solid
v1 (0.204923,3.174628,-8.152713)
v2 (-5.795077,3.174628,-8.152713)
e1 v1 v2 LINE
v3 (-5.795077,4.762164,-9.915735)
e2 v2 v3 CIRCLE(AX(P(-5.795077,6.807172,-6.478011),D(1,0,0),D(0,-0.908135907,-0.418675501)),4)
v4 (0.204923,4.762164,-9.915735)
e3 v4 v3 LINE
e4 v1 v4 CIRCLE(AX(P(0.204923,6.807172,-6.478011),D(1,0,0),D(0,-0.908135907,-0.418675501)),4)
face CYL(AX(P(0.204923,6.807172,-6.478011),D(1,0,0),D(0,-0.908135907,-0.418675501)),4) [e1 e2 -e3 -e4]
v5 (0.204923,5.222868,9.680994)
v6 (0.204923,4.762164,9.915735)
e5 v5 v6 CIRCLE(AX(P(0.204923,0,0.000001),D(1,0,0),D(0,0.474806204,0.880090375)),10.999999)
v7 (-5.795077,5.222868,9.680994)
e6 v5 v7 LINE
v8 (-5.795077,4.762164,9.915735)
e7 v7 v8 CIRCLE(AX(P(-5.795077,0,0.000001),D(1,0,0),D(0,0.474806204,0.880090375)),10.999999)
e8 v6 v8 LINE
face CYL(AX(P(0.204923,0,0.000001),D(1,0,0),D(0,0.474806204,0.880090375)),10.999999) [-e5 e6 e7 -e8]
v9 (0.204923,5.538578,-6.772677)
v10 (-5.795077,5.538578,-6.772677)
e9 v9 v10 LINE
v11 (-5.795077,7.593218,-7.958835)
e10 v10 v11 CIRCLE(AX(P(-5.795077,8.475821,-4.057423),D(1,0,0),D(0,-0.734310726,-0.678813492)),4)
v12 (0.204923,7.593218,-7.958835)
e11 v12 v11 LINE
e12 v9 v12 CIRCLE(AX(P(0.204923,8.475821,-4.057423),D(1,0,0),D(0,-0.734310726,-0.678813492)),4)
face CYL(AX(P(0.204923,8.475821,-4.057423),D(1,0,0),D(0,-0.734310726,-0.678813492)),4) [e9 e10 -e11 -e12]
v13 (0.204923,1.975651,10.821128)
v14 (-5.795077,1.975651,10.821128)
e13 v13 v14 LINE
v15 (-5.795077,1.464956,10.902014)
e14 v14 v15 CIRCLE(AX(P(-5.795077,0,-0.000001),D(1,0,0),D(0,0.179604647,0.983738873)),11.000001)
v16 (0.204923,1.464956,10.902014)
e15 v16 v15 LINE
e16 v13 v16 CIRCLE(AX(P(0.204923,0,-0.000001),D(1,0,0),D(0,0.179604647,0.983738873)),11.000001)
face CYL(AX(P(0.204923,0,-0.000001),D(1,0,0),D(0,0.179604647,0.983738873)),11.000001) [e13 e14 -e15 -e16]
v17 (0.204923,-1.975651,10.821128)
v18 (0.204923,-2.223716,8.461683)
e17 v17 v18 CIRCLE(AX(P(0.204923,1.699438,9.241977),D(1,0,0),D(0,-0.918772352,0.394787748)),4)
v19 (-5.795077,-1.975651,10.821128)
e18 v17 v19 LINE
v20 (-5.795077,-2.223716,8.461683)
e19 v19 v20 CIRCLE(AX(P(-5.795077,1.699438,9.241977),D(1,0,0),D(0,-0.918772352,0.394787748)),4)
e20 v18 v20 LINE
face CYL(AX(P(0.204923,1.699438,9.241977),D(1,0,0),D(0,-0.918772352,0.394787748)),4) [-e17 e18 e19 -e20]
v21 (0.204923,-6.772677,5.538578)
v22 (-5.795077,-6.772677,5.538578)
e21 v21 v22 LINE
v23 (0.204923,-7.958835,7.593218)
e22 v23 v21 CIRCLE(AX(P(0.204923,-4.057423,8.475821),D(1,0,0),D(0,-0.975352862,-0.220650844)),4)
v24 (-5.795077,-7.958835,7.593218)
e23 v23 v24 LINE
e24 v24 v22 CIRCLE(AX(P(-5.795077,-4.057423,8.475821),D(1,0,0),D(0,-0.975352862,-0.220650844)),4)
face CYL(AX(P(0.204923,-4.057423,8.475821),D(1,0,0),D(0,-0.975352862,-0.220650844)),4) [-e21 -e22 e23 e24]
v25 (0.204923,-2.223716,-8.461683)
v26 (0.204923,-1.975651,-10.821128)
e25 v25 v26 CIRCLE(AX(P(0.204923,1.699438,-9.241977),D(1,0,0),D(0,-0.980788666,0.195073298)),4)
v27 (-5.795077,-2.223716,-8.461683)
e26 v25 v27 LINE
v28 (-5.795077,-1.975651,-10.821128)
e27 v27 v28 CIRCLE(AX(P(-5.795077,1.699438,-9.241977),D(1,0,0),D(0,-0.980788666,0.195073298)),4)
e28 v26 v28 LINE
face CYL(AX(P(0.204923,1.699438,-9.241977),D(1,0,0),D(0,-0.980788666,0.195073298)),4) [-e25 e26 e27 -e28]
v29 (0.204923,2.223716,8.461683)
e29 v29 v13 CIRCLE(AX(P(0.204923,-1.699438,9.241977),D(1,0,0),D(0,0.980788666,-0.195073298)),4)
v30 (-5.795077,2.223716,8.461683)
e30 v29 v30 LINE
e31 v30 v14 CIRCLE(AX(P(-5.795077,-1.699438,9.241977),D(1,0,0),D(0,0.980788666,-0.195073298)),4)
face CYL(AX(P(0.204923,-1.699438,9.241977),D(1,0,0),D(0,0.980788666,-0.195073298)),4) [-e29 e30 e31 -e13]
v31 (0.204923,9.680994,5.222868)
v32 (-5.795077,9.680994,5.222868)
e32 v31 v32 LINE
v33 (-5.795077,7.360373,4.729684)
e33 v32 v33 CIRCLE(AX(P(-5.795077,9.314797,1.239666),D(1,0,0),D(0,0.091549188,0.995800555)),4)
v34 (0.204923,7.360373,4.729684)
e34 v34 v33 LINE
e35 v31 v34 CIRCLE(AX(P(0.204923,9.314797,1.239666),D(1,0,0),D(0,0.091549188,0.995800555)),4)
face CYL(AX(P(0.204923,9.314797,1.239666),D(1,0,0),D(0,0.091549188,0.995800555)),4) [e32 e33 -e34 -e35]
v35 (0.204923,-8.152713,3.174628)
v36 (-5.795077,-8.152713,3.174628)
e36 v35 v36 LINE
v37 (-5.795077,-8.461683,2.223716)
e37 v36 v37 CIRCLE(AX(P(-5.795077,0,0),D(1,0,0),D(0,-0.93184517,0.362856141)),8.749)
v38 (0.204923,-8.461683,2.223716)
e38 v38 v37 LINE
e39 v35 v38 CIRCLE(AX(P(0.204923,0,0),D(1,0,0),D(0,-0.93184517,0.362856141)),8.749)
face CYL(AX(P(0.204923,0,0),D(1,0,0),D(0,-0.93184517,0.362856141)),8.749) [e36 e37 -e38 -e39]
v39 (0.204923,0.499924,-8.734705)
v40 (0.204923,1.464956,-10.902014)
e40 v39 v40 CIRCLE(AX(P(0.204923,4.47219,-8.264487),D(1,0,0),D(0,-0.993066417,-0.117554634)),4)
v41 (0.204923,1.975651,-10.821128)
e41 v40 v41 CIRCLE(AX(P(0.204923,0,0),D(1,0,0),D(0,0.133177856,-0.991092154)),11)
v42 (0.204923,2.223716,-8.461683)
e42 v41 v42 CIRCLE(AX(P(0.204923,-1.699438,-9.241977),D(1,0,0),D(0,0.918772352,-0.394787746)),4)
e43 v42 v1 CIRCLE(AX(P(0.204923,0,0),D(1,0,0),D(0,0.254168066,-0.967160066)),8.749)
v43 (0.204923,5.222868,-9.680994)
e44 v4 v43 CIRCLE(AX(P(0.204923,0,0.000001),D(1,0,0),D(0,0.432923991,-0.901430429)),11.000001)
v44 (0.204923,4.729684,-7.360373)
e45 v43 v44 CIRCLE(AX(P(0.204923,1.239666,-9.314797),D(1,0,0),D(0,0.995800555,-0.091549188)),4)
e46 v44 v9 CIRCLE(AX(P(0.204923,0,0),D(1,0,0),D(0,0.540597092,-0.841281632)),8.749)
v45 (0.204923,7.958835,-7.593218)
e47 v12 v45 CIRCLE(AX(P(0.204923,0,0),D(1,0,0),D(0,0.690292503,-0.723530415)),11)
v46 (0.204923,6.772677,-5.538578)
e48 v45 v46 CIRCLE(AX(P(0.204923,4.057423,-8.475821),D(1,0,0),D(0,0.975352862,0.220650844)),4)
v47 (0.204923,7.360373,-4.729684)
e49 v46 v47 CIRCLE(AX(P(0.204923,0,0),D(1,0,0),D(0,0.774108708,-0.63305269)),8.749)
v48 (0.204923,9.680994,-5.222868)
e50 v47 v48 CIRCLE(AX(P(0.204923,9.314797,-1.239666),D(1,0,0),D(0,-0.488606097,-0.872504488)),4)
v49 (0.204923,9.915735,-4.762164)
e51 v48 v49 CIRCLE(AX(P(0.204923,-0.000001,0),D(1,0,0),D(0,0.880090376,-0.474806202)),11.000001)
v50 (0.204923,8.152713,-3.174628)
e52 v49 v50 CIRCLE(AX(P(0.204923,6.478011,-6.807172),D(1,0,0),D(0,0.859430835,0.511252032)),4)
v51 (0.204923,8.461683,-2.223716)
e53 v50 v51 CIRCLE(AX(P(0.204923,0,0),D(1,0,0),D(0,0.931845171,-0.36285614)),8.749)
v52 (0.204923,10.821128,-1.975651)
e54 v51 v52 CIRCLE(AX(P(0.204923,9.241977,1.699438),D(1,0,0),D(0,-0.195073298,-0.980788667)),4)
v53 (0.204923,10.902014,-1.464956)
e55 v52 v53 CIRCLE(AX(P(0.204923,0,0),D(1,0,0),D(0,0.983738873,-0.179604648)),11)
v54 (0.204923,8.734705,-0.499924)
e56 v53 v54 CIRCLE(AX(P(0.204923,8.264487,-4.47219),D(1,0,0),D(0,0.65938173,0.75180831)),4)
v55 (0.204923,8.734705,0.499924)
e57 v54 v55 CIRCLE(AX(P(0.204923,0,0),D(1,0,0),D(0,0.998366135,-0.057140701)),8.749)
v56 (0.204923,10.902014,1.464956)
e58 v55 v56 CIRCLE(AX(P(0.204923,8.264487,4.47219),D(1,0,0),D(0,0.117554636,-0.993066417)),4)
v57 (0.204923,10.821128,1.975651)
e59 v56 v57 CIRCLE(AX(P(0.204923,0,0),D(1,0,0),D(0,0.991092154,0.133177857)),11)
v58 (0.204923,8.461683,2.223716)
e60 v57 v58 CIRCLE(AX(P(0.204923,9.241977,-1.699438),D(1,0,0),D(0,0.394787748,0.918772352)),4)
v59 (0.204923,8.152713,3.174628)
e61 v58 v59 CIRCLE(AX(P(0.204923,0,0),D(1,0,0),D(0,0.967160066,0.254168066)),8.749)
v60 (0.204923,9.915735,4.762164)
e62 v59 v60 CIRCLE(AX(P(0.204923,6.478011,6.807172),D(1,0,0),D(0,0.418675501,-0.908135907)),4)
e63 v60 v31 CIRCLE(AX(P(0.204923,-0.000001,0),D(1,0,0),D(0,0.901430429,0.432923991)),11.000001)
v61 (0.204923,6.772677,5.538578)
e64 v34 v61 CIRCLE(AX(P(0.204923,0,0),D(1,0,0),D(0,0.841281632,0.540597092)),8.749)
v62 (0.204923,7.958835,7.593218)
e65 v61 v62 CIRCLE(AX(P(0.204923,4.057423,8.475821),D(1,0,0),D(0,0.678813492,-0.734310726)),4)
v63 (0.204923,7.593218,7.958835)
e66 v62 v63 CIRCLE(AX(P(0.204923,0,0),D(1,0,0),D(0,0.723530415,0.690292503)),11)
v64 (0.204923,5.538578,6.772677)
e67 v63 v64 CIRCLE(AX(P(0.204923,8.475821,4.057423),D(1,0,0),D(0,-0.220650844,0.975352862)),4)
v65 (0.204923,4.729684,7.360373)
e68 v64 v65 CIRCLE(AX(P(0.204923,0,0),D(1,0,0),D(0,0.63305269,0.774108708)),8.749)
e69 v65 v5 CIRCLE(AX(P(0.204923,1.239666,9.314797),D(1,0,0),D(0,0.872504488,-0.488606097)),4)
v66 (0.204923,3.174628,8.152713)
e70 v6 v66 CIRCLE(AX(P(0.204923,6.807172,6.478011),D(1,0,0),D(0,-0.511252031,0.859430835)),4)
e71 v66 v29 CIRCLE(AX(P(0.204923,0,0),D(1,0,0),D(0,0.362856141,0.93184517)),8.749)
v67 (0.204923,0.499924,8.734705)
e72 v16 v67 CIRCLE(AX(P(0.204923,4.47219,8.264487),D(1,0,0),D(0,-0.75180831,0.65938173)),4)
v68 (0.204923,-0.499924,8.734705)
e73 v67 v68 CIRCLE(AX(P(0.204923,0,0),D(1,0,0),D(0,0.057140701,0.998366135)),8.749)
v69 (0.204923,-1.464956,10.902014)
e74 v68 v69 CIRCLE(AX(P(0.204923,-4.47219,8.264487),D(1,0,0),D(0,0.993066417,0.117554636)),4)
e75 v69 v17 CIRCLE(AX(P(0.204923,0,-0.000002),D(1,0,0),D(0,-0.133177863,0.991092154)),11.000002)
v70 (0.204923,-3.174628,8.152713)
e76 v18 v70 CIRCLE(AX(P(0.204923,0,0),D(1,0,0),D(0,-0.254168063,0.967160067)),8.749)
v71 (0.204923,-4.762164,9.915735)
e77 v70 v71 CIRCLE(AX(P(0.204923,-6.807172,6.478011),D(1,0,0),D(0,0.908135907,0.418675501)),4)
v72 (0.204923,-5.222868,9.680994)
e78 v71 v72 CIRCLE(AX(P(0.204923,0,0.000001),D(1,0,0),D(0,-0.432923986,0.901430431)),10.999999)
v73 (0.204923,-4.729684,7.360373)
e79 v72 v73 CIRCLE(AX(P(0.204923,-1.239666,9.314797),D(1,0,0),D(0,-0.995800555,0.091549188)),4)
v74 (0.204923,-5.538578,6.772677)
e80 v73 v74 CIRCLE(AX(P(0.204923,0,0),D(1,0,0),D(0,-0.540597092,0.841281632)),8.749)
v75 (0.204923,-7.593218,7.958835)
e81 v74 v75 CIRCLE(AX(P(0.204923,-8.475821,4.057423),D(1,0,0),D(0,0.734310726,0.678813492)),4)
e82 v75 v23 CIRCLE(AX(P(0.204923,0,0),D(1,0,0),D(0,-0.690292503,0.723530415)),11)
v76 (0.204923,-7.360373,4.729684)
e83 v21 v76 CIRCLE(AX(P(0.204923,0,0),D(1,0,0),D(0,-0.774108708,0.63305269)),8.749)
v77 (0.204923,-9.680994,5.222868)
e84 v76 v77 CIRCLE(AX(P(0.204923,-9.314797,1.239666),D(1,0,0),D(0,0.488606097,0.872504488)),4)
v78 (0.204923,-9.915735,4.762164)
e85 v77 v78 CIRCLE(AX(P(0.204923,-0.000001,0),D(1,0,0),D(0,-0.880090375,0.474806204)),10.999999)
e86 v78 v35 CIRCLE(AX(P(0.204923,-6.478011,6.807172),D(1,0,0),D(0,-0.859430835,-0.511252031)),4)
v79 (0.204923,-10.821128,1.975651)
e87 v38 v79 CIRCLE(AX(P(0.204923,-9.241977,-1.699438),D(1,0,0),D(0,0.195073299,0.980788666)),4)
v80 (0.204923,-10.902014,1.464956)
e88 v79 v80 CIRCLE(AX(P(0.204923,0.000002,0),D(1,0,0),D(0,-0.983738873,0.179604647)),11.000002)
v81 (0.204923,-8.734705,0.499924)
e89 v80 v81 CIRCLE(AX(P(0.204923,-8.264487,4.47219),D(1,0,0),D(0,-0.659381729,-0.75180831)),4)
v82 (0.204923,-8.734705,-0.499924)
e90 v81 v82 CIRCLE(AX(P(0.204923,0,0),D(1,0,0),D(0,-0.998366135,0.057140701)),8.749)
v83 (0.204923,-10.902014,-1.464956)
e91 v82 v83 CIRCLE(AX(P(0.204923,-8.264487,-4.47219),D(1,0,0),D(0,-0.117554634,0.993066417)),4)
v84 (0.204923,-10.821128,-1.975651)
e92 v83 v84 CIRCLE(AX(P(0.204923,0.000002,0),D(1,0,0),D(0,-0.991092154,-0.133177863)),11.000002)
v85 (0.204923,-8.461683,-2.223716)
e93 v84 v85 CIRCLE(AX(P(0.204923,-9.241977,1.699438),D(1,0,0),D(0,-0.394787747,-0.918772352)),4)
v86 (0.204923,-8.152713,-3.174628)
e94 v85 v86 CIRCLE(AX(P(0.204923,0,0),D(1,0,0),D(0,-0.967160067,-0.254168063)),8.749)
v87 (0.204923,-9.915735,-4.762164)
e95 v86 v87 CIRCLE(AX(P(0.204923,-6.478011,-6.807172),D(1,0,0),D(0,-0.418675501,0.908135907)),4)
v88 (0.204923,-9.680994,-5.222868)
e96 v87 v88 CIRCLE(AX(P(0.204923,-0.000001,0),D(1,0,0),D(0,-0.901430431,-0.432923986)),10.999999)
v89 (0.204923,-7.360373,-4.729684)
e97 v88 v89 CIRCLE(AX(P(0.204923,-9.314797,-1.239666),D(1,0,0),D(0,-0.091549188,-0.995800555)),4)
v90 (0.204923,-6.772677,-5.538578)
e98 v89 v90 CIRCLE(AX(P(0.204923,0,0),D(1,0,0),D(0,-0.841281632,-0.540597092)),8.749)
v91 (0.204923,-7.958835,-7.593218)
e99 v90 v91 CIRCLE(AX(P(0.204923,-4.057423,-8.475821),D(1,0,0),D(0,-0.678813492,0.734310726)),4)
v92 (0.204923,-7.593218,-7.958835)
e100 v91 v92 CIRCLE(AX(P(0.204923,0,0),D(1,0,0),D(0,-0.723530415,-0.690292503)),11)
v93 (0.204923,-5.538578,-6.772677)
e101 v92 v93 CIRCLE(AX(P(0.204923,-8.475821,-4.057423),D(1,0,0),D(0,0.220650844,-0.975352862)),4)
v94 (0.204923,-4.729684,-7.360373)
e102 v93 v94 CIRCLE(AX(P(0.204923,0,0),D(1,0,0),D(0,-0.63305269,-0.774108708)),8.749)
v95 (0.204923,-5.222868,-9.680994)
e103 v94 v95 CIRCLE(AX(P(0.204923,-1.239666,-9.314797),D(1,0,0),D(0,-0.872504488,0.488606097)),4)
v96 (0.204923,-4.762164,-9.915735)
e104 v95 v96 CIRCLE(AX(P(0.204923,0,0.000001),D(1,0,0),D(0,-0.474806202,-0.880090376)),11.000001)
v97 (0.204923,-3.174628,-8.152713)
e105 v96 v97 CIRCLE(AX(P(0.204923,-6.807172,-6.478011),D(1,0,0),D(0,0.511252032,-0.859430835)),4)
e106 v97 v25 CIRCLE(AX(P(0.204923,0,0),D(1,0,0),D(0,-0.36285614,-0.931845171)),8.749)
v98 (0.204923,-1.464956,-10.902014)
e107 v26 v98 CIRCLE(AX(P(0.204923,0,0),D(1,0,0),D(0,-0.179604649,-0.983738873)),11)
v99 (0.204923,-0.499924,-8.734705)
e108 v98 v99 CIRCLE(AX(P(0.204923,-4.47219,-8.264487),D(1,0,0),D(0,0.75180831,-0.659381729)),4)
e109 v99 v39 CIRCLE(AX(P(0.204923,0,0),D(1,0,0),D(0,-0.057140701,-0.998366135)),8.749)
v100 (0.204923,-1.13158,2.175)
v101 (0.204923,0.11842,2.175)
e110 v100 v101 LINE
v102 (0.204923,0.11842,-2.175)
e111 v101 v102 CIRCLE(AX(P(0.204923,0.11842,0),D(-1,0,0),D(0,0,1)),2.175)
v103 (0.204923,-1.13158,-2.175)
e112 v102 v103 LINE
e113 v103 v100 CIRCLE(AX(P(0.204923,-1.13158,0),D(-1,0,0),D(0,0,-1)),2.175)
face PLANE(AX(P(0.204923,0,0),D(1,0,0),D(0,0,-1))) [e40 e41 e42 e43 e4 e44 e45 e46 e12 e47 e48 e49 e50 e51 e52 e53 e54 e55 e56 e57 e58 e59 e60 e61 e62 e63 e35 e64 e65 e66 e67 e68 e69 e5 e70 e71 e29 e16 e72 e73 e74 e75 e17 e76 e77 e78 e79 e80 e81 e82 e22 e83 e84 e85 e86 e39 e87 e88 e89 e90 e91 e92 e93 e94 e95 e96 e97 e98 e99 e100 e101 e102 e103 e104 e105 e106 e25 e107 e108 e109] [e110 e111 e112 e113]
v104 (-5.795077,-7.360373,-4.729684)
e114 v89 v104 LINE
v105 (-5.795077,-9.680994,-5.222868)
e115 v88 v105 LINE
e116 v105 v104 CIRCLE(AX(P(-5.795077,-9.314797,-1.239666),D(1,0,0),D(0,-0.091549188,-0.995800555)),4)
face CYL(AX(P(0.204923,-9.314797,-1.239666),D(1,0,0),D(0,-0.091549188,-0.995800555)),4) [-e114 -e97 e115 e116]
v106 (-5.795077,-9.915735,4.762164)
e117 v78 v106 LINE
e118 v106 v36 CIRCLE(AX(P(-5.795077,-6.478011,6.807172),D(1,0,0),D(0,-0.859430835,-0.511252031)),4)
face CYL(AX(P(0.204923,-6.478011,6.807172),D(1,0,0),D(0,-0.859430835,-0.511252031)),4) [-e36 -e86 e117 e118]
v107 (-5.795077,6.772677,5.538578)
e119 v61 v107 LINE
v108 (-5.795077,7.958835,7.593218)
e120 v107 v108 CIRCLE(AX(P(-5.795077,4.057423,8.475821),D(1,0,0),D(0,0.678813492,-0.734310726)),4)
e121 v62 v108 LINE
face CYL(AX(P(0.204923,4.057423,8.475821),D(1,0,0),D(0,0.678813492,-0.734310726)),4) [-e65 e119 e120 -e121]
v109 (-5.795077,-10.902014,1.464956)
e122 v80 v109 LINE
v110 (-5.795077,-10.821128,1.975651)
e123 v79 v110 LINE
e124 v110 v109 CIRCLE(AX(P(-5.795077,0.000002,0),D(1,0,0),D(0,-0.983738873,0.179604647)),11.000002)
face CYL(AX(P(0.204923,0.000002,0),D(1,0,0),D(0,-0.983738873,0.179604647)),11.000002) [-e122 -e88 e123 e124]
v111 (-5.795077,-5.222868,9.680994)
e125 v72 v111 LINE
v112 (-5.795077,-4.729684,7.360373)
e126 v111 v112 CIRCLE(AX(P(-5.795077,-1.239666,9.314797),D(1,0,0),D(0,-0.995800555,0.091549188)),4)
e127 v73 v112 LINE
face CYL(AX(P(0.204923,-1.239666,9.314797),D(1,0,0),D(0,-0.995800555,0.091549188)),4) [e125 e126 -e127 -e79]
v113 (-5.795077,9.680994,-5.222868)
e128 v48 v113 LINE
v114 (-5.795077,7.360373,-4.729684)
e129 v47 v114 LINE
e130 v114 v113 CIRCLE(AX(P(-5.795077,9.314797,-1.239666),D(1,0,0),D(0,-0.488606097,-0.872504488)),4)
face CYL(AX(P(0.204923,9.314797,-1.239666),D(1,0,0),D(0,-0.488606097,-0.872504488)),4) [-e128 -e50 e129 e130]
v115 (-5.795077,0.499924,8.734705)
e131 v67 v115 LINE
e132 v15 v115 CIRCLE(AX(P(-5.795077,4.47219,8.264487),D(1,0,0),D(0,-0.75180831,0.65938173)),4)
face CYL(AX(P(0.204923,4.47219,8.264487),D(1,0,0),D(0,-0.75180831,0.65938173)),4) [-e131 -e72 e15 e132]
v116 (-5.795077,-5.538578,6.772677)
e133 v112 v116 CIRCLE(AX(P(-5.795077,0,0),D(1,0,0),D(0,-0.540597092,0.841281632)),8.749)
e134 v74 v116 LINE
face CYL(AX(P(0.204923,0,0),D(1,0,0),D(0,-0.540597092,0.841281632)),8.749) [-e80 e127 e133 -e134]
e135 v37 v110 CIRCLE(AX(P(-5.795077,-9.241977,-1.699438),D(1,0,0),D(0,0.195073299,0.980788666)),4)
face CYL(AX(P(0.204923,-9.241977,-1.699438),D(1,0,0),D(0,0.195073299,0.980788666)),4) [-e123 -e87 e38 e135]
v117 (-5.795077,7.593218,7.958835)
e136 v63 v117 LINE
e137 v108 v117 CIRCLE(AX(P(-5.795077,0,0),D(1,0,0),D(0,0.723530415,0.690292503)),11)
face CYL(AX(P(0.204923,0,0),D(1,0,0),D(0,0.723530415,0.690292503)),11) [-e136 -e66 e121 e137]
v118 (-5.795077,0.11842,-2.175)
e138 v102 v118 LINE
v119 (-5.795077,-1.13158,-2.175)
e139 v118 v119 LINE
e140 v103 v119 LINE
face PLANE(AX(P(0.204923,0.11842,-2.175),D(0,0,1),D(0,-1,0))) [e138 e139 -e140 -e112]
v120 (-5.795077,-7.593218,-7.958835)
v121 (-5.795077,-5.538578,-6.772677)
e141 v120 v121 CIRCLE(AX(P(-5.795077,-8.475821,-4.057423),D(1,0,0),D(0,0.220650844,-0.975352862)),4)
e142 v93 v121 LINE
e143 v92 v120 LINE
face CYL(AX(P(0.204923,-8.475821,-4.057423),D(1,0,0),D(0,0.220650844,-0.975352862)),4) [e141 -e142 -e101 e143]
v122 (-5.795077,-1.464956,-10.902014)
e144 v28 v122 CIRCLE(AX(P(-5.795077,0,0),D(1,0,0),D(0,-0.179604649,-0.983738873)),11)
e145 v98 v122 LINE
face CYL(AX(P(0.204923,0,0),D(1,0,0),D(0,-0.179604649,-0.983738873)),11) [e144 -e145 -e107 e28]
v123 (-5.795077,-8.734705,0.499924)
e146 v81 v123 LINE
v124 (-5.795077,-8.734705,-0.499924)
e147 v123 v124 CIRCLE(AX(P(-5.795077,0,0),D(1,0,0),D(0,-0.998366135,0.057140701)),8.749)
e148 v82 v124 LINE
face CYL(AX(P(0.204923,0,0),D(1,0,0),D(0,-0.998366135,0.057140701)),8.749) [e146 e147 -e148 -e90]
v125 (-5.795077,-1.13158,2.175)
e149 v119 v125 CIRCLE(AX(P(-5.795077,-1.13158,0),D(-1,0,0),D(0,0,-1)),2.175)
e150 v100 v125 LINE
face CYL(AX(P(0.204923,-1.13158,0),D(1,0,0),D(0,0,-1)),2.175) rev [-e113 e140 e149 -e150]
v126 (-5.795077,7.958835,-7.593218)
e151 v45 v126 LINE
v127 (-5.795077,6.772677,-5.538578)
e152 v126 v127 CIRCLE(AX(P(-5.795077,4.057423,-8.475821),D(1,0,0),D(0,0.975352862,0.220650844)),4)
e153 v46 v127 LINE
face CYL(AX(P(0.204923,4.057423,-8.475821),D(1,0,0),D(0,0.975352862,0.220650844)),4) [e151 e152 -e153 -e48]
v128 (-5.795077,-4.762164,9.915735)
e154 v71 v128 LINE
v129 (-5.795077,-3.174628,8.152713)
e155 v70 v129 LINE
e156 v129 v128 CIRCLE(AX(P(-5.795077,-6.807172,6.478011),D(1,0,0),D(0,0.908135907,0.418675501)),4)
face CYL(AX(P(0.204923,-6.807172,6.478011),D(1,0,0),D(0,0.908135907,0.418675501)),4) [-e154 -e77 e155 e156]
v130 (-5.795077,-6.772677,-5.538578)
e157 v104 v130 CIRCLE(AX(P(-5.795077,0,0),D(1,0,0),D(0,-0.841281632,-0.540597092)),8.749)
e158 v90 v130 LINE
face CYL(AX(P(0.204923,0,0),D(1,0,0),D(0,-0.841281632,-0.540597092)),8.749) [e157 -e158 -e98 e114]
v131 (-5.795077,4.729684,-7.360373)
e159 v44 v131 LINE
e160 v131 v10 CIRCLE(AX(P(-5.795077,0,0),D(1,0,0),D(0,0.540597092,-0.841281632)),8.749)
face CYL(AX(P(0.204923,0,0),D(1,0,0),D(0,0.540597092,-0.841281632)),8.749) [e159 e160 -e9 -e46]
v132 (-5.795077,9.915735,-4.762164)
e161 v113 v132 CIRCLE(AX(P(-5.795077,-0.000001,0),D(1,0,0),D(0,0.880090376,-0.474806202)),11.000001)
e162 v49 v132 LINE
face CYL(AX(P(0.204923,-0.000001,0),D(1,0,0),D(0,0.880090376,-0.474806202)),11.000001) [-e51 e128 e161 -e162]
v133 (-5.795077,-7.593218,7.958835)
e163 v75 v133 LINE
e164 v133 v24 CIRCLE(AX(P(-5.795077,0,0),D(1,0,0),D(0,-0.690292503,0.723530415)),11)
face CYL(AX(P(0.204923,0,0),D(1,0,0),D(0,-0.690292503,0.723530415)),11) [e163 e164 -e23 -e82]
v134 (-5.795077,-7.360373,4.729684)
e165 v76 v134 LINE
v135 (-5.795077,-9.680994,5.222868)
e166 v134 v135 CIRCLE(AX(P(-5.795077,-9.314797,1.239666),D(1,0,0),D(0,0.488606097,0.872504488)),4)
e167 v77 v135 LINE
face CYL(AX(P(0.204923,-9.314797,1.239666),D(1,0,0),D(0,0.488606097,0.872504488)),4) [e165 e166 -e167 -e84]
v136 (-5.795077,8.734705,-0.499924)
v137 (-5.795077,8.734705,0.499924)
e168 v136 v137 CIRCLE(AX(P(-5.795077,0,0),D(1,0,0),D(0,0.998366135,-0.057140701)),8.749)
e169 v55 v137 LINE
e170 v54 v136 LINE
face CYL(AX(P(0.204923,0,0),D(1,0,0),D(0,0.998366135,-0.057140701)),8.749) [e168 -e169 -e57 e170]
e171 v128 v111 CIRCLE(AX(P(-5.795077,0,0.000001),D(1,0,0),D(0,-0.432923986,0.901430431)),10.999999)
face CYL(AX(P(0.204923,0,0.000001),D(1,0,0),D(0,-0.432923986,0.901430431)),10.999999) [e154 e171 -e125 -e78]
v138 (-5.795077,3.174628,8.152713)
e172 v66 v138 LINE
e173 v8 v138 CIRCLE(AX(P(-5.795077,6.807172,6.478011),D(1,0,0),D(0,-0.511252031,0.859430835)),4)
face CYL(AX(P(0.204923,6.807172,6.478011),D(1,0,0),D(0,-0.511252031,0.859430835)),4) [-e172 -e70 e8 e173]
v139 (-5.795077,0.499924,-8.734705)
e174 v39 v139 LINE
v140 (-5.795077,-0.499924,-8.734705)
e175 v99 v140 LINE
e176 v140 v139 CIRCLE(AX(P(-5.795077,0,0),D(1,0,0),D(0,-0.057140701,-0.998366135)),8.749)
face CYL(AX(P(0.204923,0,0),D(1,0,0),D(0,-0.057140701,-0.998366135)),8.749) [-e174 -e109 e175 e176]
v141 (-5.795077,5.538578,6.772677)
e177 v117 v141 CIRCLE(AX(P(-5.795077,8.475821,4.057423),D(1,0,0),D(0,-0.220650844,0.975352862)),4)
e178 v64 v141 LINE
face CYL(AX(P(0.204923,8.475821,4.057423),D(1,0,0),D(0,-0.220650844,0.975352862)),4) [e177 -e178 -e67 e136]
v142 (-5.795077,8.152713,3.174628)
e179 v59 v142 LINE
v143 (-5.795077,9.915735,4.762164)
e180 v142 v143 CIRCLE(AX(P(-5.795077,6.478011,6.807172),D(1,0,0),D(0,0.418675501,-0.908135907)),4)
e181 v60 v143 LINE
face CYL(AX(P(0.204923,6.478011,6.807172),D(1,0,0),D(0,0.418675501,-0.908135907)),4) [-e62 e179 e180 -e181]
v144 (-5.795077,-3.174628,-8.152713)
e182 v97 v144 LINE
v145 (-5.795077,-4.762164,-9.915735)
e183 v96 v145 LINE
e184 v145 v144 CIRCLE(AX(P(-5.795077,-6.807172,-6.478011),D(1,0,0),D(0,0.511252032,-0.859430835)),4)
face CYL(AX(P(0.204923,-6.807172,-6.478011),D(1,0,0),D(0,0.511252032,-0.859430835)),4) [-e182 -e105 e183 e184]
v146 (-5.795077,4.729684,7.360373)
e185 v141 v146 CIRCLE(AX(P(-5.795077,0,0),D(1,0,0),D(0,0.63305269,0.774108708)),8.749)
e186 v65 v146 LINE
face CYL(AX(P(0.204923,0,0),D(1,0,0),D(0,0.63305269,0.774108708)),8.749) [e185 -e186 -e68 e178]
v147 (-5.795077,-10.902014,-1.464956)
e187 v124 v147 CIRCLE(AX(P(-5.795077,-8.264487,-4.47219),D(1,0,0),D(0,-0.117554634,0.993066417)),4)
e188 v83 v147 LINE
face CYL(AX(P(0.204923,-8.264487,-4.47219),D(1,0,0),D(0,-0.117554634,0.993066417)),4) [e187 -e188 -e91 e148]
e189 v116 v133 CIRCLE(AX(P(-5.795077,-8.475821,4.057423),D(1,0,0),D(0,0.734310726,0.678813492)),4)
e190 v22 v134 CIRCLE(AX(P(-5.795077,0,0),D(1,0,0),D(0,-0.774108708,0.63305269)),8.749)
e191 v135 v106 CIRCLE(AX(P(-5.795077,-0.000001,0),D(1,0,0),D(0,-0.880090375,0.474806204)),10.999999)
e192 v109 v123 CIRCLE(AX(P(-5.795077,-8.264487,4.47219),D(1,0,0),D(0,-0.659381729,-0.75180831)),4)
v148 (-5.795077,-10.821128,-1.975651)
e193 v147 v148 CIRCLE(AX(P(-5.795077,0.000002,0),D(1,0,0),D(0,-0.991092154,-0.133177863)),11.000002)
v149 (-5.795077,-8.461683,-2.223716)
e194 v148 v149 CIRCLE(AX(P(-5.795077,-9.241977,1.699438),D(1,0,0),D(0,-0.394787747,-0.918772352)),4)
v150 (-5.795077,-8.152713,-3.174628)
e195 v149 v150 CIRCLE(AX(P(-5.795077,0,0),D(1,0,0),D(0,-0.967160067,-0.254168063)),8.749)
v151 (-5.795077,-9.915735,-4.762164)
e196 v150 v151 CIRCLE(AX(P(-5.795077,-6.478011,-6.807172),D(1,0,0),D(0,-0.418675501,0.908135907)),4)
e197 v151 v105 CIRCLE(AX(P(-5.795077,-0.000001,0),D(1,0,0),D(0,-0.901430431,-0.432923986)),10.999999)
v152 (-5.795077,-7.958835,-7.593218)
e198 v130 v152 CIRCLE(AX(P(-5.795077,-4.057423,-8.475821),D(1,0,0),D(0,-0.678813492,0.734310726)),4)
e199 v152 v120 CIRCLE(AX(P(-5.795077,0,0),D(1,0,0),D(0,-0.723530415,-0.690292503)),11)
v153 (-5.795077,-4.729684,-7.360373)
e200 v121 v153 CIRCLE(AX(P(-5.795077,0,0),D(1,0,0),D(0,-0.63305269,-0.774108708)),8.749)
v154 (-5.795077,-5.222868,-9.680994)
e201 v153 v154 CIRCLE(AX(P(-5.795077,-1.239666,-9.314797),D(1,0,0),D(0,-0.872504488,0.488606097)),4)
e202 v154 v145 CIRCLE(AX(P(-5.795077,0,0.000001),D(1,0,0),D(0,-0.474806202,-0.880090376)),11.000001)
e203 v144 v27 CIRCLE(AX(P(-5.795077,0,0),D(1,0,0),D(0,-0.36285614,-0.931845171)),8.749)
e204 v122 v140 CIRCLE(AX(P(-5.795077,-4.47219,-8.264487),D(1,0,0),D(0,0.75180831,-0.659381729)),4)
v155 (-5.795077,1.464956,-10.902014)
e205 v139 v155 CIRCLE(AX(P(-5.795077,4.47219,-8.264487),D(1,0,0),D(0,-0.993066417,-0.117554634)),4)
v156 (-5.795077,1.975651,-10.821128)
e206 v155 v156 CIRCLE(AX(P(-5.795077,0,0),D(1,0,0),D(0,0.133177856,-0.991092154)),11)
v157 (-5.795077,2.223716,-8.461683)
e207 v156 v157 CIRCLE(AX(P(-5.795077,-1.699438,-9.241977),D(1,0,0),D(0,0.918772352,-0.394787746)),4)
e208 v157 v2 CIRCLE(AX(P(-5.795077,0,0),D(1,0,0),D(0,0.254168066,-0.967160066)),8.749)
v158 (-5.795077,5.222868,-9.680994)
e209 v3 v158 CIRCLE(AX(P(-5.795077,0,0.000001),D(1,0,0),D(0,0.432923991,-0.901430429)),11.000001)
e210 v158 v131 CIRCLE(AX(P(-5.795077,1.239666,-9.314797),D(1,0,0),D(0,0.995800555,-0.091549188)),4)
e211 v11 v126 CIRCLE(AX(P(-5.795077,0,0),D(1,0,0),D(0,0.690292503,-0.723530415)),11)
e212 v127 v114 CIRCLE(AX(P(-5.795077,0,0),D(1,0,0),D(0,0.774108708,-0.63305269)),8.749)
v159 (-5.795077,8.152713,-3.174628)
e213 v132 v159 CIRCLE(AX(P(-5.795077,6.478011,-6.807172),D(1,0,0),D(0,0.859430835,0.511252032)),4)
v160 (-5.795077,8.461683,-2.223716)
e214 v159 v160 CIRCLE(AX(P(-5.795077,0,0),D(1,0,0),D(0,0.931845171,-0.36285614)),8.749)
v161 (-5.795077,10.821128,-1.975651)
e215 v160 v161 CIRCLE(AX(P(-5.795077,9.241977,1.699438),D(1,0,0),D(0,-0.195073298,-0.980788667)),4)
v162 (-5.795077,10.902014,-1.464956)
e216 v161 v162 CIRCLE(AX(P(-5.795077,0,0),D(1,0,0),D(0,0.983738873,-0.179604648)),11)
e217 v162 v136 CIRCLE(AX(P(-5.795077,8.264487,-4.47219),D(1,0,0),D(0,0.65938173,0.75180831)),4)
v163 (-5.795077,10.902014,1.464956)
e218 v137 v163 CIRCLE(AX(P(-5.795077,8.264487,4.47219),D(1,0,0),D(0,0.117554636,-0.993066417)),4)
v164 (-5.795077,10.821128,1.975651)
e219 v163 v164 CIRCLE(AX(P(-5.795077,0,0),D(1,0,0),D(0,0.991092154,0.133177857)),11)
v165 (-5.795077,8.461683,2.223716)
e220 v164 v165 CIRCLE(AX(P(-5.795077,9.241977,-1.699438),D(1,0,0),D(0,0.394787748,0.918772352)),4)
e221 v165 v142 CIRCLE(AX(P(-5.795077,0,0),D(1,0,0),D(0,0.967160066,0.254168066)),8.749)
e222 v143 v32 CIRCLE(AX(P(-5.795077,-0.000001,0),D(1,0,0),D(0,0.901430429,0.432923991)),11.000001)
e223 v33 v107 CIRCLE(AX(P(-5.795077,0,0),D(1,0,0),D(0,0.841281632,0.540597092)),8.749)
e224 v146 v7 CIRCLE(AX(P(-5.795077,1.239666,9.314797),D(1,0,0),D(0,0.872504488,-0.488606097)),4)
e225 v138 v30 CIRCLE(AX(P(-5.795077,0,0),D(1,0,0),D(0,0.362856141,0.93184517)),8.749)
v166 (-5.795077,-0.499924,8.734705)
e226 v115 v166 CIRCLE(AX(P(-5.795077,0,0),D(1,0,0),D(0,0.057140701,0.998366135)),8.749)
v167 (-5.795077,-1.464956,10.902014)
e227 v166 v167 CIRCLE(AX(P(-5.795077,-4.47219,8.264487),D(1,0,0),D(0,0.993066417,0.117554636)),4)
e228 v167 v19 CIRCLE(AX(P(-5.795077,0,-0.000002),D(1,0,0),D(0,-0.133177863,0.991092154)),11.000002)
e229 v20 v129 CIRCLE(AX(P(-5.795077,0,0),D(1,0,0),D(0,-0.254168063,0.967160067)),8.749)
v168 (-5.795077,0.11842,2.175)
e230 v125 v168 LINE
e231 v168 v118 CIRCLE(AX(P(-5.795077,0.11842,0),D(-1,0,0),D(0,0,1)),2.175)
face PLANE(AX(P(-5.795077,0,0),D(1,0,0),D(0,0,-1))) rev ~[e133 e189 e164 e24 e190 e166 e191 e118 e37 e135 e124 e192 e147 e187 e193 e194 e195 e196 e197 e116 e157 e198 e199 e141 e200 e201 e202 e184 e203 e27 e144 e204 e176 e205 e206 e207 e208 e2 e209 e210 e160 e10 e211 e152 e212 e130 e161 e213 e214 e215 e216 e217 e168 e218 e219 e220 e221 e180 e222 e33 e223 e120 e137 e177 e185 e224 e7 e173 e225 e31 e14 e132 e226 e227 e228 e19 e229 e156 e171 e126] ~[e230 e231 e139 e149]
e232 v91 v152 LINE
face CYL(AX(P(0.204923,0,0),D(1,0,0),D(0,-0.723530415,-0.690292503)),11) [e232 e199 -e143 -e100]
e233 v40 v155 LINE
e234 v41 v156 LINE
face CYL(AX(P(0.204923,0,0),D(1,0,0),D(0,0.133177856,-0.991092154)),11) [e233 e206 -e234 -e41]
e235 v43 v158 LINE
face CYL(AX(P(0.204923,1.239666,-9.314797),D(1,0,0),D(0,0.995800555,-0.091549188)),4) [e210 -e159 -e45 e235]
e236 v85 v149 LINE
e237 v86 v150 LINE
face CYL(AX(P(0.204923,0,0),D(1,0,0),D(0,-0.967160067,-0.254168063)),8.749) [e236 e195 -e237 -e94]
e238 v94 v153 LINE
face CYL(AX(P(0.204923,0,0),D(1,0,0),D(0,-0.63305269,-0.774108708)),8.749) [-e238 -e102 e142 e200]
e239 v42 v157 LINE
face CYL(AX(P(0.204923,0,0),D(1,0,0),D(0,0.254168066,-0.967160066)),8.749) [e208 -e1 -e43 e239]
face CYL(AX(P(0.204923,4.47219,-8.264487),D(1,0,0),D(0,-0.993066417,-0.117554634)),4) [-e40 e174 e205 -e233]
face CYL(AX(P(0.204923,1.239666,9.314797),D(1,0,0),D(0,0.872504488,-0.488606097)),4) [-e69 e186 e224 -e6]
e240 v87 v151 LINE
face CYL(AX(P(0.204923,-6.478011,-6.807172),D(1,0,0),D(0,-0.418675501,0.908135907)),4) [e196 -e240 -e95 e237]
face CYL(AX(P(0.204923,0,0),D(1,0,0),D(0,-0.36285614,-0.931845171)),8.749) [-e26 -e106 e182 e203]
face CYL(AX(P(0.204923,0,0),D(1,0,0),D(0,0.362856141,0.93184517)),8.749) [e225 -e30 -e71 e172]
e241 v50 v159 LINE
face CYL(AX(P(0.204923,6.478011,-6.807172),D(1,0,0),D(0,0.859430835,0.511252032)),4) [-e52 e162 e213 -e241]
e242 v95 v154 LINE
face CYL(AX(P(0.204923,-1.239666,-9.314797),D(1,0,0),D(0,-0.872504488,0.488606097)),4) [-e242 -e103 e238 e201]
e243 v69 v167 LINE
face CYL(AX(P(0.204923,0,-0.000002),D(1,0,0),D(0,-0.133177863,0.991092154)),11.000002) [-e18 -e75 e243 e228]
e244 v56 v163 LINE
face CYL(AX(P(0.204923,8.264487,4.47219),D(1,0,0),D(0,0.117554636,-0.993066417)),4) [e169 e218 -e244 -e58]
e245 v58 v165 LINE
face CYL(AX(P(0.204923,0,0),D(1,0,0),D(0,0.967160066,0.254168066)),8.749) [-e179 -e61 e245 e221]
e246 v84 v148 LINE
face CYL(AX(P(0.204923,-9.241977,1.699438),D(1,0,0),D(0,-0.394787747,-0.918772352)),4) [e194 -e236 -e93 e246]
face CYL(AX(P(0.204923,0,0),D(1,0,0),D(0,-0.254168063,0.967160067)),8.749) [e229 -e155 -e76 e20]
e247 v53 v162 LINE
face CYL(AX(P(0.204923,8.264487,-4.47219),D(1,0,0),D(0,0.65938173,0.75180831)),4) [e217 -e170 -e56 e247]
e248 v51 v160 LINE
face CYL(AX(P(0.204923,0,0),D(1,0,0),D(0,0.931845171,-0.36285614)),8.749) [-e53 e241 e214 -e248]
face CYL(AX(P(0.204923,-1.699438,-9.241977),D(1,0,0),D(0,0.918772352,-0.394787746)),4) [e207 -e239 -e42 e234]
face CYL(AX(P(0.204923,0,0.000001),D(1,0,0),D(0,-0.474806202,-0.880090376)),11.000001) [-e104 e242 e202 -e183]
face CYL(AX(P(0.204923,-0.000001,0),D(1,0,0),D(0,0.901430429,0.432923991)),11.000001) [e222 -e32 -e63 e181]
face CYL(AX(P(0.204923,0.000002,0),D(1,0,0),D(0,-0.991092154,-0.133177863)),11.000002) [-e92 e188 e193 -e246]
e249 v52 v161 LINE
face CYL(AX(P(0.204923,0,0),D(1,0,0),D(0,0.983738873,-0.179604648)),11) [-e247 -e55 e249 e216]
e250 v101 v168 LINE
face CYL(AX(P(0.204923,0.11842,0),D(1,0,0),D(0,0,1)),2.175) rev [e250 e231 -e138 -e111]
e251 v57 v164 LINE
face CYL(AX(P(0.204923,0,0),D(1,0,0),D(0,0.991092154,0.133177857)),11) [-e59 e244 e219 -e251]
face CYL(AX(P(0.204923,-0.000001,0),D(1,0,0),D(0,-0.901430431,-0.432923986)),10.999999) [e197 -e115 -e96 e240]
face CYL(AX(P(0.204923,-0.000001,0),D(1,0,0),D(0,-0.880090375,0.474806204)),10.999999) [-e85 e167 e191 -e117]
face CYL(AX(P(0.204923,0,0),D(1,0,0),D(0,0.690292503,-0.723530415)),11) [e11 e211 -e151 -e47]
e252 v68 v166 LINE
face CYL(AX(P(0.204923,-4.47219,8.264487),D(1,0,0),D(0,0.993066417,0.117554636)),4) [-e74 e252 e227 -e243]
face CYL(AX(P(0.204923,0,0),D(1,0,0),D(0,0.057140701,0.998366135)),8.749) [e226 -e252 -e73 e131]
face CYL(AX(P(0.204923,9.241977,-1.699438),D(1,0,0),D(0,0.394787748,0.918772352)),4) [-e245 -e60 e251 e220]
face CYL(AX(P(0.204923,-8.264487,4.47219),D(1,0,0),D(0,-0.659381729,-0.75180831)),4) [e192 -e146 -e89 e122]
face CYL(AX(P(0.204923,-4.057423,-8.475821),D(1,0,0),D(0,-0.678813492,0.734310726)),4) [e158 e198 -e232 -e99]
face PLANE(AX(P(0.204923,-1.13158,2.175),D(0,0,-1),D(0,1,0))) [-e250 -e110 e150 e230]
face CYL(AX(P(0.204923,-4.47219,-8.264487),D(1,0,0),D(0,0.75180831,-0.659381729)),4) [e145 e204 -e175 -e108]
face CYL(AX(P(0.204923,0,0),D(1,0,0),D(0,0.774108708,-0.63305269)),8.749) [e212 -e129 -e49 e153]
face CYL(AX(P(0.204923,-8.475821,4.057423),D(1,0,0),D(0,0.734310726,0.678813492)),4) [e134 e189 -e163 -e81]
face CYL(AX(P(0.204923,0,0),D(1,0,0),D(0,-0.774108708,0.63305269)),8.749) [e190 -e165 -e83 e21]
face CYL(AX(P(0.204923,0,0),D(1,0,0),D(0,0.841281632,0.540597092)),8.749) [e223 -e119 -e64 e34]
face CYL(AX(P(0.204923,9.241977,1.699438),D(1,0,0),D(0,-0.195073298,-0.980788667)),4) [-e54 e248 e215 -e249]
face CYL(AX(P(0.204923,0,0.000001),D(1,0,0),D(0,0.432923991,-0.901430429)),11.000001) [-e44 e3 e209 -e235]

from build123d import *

# Parameters (mm, degrees)
EXTRUDE_1_DEPTH = 6


with BuildPart() as part:
    # Эскиз1 → Бобышка-Вытянуть1 (new body)
    with BuildSketch(Plane(origin=(0.204923016, 3.152126199, 1.20502958), x_dir=(0, 0, -1), z_dir=(1, 0, 0))):
        with BuildLine():
            ThreePointArc((-9.696984117, -1.687169764), (-8.686522764, -2.334065374), (-7.529675738, -2.652202191))
            ThreePointArc((-7.529675738, -2.652202191), (-7.54397042, -3.152126199), (-7.529675738, -3.652050206))
            ThreePointArc((-7.529675738, -3.652050206), (-8.686522764, -3.970187024), (-9.696984117, -4.617082634))
            ThreePointArc((-9.696984117, -4.617082634), (-9.659542166, -4.872905314), (-9.616098021, -5.12777734))
            ThreePointArc((-9.616098021, -5.12777734), (-8.45519043, -5.430761896), (-7.256653844, -5.375842598))
            ThreePointArc((-7.256653844, -5.375842598), (-7.115763881, -5.855715883), (-6.947683816, -6.326754568))
            ThreePointArc((-6.947683816, -6.326754568), (-7.949601035, -6.986806052), (-8.710705152, -7.914290068))
            ThreePointArc((-8.710705152, -7.914290068), (-8.596042186, -8.146021696), (-8.475964561, -8.374994418))
            ThreePointArc((-8.475964561, -8.374994418), (-7.278248455, -8.304409679), (-6.155343422, -7.88181015))
            ThreePointArc((-6.155343422, -7.88181015), (-5.873060104, -8.294659371), (-5.567647504, -8.690704186))
            ThreePointArc((-5.567647504, -8.690704186), (-6.316560278, -9.628059899), (-6.753804986, -10.745343722))
            ThreePointArc((-6.753804986, -10.745343722), (-6.573145013, -10.930300792), (-6.388187943, -11.110960765))
            ThreePointArc((-6.388187943, -11.110960765), (-5.27090412, -10.673716057), (-4.333548407, -9.924803283))
            ThreePointArc((-4.333548407, -9.924803283), (-3.937503592, -10.230215883), (-3.524654371, -10.512499201))
            ThreePointArc((-3.524654371, -10.512499201), (-3.9472539, -11.635404234), (-4.017838639, -12.83312034))
            ThreePointArc((-4.017838639, -12.83312034), (-3.788865917, -12.953197965), (-3.557134289, -13.067860931))
            ThreePointArc((-3.557134289, -13.067860931), (-2.629650273, -12.306756814), (-1.969598789, -11.304839595))
            ThreePointArc((-1.969598789, -11.304839595), (-1.498560104, -11.47291966), (-1.018686819, -11.613809623))
            ThreePointArc((-1.018686819, -11.613809623), (-1.073606117, -12.812346209), (-0.770621561, -13.9732538))
            ThreePointArc((-0.770621561, -13.9732538), (-0.515749535, -14.016697945), (-0.259926855, -14.054139896))
            ThreePointArc((-0.259926855, -14.054139896), (0.386968755, -13.043678543), (0.705105573, -11.886831517))
            ThreePointArc((0.705105573, -11.886831517), (1.20502958, -11.901126199), (1.704953588, -11.886831517))
            ThreePointArc((1.704953588, -11.886831517), (2.023090405, -13.043678543), (2.669986015, -14.054139896))
            ThreePointArc((2.669986015, -14.054139896), (2.925808695, -14.016697945), (3.180680722, -13.9732538))
            ThreePointArc((3.180680722, -13.9732538), (3.483665277, -12.812346209), (3.428745979, -11.613809623))
            ThreePointArc((3.428745979, -11.613809623), (3.908619264, -11.47291966), (4.379657949, -11.304839595))
            ThreePointArc((4.379657949, -11.304839595), (5.039709433, -12.306756814), (5.967193449, -13.067860931))
            ThreePointArc((5.967193449, -13.067860931), (6.198925077, -12.953197965), (6.427897799, -12.83312034))
            ThreePointArc((6.427897799, -12.83312034), (6.35731306, -11.635404234), (5.934713531, -10.512499201))
            ThreePointArc((5.934713531, -10.512499201), (6.347562752, -10.230215883), (6.743607567, -9.924803283))
            ThreePointArc((6.743607567, -9.924803283), (7.68096328, -10.673716057), (8.798247103, -11.110960765))
            ThreePointArc((8.798247103, -11.110960765), (8.983204173, -10.930300792), (9.163864146, -10.745343722))
            ThreePointArc((9.163864146, -10.745343722), (8.726619438, -9.628059899), (7.977706664, -8.690704186))
            ThreePointArc((7.977706664, -8.690704186), (8.283119264, -8.294659371), (8.565402582, -7.88181015))
            ThreePointArc((8.565402582, -7.88181015), (9.688307615, -8.304409679), (10.886023721, -8.374994418))
            ThreePointArc((10.886023721, -8.374994418), (11.006101346, -8.146021696), (11.120764313, -7.914290068))
            ThreePointArc((11.120764313, -7.914290068), (10.359660195, -6.986806052), (9.357742976, -6.326754568))
            ThreePointArc((9.357742976, -6.326754568), (9.525823041, -5.855715883), (9.666713005, -5.375842598))
            ThreePointArc((9.666713005, -5.375842598), (10.86524959, -5.430761896), (12.026157182, -5.12777734))
            ThreePointArc((12.026157182, -5.12777734), (12.069601327, -4.872905314), (12.107043277, -4.617082634))
            ThreePointArc((12.107043277, -4.617082634), (11.096581924, -3.970187024), (9.939734898, -3.652050206))
            ThreePointArc((9.939734898, -3.652050206), (9.95402958, -3.152126199), (9.939734898, -2.652202191))
            ThreePointArc((9.939734898, -2.652202191), (11.096581924, -2.334065374), (12.107043277, -1.687169764))
            ThreePointArc((12.107043277, -1.687169764), (12.069601327, -1.431347083), (12.026157182, -1.176475057))
            ThreePointArc((12.026157182, -1.176475057), (10.86524959, -0.873490502), (9.666713005, -0.9284098))
            ThreePointArc((9.666713005, -0.9284098), (9.525823041, -0.448536515), (9.357742976, 0.02250217))
            ThreePointArc((9.357742976, 0.02250217), (10.359660195, 0.682553654), (11.120764313, 1.61003767))
            ThreePointArc((11.120764313, 1.61003767), (11.006101346, 1.841769298), (10.886023721, 2.07074202))
            ThreePointArc((10.886023721, 2.07074202), (9.688307615, 2.000157281), (8.565402582, 1.577557752))
            ThreePointArc((8.565402582, 1.577557752), (8.283119264, 1.990406973), (7.977706664, 2.386451788))
            ThreePointArc((7.977706664, 2.386451788), (8.726619438, 3.323807501), (9.163864146, 4.441091324))
            ThreePointArc((9.163864146, 4.441091324), (8.983204173, 4.626048394), (8.798247103, 4.806708367))
            ThreePointArc((8.798247103, 4.806708367), (7.68096328, 4.369463659), (6.743607567, 3.620550885))
            ThreePointArc((6.743607567, 3.620550885), (6.347562752, 3.925963485), (5.934713531, 4.208246803))
            ThreePointArc((5.934713531, 4.208246803), (6.35731306, 5.331151836), (6.427897799, 6.528867942))
            ThreePointArc((6.427897799, 6.528867942), (6.198925077, 6.648945567), (5.967193449, 6.763608534))
            ThreePointArc((5.967193449, 6.763608534), (5.039709433, 6.002504416), (4.379657949, 5.000587197))
            ThreePointArc((4.379657949, 5.000587197), (3.908619264, 5.168667262), (3.428745979, 5.309557226))
            ThreePointArc((3.428745979, 5.309557226), (3.483665277, 6.508093811), (3.180680722, 7.669001403))
            ThreePointArc((3.180680722, 7.669001403), (2.925808695, 7.712445548), (2.669986015, 7.749887498))
            ThreePointArc((2.669986015, 7.749887498), (2.023090405, 6.739426145), (1.704953588, 5.582579119))
            ThreePointArc((1.704953588, 5.582579119), (1.20502958, 5.596873801), (0.705105573, 5.582579119))
            ThreePointArc((0.705105573, 5.582579119), (0.386968755, 6.739426145), (-0.259926855, 7.749887498))
            ThreePointArc((-0.259926855, 7.749887498), (-0.515749535, 7.712445548), (-0.770621561, 7.669001403))
            ThreePointArc((-0.770621561, 7.669001403), (-1.073606117, 6.508093811), (-1.018686819, 5.309557226))
            ThreePointArc((-1.018686819, 5.309557226), (-1.498560104, 5.168667262), (-1.969598789, 5.000587197))
            ThreePointArc((-1.969598789, 5.000587197), (-2.629650273, 6.002504416), (-3.557134289, 6.763608534))
            ThreePointArc((-3.557134289, 6.763608534), (-3.788865917, 6.648945567), (-4.017838639, 6.528867942))
            ThreePointArc((-4.017838639, 6.528867942), (-3.9472539, 5.331151836), (-3.524654371, 4.208246803))
            ThreePointArc((-3.524654371, 4.208246803), (-3.937503592, 3.925963485), (-4.333548407, 3.620550885))
            ThreePointArc((-4.333548407, 3.620550885), (-5.27090412, 4.369463659), (-6.388187943, 4.806708367))
            ThreePointArc((-6.388187943, 4.806708367), (-6.573145013, 4.626048394), (-6.753804986, 4.441091324))
            ThreePointArc((-6.753804986, 4.441091324), (-6.316560278, 3.323807501), (-5.567647504, 2.386451788))
            ThreePointArc((-5.567647504, 2.386451788), (-5.873060104, 1.990406973), (-6.155343422, 1.577557752))
            ThreePointArc((-6.155343422, 1.577557752), (-7.278248455, 2.000157281), (-8.475964561, 2.07074202))
            ThreePointArc((-8.475964561, 2.07074202), (-8.596042186, 1.841769298), (-8.710705152, 1.61003767))
            ThreePointArc((-8.710705152, 1.61003767), (-7.949601035, 0.682553654), (-6.947683816, 0.02250217))
            ThreePointArc((-6.947683816, 0.02250217), (-7.115763881, -0.448536515), (-7.256653844, -0.9284098))
            ThreePointArc((-7.256653844, -0.9284098), (-8.45519043, -0.873490502), (-9.616098021, -1.176475057))
            ThreePointArc((-9.616098021, -1.176475057), (-9.659542166, -1.431347083), (-9.696984117, -1.687169764))
        make_face()
        with BuildLine():
            Line((3.38002958, -3.033706418), (3.38002958, -4.283706418))
            ThreePointArc((3.38002958, -4.283706418), (1.20502958, -6.458706418), (-0.96997042, -4.283706418))
            Line((-0.96997042, -4.283706418), (-0.96997042, -3.033706418))
            ThreePointArc((-0.96997042, -3.033706418), (1.20502958, -0.858706418), (3.38002958, -3.033706418))
        make_face(mode=Mode.SUBTRACT)
    extrude(amount=-EXTRUDE_1_DEPTH)


solid = part.part
